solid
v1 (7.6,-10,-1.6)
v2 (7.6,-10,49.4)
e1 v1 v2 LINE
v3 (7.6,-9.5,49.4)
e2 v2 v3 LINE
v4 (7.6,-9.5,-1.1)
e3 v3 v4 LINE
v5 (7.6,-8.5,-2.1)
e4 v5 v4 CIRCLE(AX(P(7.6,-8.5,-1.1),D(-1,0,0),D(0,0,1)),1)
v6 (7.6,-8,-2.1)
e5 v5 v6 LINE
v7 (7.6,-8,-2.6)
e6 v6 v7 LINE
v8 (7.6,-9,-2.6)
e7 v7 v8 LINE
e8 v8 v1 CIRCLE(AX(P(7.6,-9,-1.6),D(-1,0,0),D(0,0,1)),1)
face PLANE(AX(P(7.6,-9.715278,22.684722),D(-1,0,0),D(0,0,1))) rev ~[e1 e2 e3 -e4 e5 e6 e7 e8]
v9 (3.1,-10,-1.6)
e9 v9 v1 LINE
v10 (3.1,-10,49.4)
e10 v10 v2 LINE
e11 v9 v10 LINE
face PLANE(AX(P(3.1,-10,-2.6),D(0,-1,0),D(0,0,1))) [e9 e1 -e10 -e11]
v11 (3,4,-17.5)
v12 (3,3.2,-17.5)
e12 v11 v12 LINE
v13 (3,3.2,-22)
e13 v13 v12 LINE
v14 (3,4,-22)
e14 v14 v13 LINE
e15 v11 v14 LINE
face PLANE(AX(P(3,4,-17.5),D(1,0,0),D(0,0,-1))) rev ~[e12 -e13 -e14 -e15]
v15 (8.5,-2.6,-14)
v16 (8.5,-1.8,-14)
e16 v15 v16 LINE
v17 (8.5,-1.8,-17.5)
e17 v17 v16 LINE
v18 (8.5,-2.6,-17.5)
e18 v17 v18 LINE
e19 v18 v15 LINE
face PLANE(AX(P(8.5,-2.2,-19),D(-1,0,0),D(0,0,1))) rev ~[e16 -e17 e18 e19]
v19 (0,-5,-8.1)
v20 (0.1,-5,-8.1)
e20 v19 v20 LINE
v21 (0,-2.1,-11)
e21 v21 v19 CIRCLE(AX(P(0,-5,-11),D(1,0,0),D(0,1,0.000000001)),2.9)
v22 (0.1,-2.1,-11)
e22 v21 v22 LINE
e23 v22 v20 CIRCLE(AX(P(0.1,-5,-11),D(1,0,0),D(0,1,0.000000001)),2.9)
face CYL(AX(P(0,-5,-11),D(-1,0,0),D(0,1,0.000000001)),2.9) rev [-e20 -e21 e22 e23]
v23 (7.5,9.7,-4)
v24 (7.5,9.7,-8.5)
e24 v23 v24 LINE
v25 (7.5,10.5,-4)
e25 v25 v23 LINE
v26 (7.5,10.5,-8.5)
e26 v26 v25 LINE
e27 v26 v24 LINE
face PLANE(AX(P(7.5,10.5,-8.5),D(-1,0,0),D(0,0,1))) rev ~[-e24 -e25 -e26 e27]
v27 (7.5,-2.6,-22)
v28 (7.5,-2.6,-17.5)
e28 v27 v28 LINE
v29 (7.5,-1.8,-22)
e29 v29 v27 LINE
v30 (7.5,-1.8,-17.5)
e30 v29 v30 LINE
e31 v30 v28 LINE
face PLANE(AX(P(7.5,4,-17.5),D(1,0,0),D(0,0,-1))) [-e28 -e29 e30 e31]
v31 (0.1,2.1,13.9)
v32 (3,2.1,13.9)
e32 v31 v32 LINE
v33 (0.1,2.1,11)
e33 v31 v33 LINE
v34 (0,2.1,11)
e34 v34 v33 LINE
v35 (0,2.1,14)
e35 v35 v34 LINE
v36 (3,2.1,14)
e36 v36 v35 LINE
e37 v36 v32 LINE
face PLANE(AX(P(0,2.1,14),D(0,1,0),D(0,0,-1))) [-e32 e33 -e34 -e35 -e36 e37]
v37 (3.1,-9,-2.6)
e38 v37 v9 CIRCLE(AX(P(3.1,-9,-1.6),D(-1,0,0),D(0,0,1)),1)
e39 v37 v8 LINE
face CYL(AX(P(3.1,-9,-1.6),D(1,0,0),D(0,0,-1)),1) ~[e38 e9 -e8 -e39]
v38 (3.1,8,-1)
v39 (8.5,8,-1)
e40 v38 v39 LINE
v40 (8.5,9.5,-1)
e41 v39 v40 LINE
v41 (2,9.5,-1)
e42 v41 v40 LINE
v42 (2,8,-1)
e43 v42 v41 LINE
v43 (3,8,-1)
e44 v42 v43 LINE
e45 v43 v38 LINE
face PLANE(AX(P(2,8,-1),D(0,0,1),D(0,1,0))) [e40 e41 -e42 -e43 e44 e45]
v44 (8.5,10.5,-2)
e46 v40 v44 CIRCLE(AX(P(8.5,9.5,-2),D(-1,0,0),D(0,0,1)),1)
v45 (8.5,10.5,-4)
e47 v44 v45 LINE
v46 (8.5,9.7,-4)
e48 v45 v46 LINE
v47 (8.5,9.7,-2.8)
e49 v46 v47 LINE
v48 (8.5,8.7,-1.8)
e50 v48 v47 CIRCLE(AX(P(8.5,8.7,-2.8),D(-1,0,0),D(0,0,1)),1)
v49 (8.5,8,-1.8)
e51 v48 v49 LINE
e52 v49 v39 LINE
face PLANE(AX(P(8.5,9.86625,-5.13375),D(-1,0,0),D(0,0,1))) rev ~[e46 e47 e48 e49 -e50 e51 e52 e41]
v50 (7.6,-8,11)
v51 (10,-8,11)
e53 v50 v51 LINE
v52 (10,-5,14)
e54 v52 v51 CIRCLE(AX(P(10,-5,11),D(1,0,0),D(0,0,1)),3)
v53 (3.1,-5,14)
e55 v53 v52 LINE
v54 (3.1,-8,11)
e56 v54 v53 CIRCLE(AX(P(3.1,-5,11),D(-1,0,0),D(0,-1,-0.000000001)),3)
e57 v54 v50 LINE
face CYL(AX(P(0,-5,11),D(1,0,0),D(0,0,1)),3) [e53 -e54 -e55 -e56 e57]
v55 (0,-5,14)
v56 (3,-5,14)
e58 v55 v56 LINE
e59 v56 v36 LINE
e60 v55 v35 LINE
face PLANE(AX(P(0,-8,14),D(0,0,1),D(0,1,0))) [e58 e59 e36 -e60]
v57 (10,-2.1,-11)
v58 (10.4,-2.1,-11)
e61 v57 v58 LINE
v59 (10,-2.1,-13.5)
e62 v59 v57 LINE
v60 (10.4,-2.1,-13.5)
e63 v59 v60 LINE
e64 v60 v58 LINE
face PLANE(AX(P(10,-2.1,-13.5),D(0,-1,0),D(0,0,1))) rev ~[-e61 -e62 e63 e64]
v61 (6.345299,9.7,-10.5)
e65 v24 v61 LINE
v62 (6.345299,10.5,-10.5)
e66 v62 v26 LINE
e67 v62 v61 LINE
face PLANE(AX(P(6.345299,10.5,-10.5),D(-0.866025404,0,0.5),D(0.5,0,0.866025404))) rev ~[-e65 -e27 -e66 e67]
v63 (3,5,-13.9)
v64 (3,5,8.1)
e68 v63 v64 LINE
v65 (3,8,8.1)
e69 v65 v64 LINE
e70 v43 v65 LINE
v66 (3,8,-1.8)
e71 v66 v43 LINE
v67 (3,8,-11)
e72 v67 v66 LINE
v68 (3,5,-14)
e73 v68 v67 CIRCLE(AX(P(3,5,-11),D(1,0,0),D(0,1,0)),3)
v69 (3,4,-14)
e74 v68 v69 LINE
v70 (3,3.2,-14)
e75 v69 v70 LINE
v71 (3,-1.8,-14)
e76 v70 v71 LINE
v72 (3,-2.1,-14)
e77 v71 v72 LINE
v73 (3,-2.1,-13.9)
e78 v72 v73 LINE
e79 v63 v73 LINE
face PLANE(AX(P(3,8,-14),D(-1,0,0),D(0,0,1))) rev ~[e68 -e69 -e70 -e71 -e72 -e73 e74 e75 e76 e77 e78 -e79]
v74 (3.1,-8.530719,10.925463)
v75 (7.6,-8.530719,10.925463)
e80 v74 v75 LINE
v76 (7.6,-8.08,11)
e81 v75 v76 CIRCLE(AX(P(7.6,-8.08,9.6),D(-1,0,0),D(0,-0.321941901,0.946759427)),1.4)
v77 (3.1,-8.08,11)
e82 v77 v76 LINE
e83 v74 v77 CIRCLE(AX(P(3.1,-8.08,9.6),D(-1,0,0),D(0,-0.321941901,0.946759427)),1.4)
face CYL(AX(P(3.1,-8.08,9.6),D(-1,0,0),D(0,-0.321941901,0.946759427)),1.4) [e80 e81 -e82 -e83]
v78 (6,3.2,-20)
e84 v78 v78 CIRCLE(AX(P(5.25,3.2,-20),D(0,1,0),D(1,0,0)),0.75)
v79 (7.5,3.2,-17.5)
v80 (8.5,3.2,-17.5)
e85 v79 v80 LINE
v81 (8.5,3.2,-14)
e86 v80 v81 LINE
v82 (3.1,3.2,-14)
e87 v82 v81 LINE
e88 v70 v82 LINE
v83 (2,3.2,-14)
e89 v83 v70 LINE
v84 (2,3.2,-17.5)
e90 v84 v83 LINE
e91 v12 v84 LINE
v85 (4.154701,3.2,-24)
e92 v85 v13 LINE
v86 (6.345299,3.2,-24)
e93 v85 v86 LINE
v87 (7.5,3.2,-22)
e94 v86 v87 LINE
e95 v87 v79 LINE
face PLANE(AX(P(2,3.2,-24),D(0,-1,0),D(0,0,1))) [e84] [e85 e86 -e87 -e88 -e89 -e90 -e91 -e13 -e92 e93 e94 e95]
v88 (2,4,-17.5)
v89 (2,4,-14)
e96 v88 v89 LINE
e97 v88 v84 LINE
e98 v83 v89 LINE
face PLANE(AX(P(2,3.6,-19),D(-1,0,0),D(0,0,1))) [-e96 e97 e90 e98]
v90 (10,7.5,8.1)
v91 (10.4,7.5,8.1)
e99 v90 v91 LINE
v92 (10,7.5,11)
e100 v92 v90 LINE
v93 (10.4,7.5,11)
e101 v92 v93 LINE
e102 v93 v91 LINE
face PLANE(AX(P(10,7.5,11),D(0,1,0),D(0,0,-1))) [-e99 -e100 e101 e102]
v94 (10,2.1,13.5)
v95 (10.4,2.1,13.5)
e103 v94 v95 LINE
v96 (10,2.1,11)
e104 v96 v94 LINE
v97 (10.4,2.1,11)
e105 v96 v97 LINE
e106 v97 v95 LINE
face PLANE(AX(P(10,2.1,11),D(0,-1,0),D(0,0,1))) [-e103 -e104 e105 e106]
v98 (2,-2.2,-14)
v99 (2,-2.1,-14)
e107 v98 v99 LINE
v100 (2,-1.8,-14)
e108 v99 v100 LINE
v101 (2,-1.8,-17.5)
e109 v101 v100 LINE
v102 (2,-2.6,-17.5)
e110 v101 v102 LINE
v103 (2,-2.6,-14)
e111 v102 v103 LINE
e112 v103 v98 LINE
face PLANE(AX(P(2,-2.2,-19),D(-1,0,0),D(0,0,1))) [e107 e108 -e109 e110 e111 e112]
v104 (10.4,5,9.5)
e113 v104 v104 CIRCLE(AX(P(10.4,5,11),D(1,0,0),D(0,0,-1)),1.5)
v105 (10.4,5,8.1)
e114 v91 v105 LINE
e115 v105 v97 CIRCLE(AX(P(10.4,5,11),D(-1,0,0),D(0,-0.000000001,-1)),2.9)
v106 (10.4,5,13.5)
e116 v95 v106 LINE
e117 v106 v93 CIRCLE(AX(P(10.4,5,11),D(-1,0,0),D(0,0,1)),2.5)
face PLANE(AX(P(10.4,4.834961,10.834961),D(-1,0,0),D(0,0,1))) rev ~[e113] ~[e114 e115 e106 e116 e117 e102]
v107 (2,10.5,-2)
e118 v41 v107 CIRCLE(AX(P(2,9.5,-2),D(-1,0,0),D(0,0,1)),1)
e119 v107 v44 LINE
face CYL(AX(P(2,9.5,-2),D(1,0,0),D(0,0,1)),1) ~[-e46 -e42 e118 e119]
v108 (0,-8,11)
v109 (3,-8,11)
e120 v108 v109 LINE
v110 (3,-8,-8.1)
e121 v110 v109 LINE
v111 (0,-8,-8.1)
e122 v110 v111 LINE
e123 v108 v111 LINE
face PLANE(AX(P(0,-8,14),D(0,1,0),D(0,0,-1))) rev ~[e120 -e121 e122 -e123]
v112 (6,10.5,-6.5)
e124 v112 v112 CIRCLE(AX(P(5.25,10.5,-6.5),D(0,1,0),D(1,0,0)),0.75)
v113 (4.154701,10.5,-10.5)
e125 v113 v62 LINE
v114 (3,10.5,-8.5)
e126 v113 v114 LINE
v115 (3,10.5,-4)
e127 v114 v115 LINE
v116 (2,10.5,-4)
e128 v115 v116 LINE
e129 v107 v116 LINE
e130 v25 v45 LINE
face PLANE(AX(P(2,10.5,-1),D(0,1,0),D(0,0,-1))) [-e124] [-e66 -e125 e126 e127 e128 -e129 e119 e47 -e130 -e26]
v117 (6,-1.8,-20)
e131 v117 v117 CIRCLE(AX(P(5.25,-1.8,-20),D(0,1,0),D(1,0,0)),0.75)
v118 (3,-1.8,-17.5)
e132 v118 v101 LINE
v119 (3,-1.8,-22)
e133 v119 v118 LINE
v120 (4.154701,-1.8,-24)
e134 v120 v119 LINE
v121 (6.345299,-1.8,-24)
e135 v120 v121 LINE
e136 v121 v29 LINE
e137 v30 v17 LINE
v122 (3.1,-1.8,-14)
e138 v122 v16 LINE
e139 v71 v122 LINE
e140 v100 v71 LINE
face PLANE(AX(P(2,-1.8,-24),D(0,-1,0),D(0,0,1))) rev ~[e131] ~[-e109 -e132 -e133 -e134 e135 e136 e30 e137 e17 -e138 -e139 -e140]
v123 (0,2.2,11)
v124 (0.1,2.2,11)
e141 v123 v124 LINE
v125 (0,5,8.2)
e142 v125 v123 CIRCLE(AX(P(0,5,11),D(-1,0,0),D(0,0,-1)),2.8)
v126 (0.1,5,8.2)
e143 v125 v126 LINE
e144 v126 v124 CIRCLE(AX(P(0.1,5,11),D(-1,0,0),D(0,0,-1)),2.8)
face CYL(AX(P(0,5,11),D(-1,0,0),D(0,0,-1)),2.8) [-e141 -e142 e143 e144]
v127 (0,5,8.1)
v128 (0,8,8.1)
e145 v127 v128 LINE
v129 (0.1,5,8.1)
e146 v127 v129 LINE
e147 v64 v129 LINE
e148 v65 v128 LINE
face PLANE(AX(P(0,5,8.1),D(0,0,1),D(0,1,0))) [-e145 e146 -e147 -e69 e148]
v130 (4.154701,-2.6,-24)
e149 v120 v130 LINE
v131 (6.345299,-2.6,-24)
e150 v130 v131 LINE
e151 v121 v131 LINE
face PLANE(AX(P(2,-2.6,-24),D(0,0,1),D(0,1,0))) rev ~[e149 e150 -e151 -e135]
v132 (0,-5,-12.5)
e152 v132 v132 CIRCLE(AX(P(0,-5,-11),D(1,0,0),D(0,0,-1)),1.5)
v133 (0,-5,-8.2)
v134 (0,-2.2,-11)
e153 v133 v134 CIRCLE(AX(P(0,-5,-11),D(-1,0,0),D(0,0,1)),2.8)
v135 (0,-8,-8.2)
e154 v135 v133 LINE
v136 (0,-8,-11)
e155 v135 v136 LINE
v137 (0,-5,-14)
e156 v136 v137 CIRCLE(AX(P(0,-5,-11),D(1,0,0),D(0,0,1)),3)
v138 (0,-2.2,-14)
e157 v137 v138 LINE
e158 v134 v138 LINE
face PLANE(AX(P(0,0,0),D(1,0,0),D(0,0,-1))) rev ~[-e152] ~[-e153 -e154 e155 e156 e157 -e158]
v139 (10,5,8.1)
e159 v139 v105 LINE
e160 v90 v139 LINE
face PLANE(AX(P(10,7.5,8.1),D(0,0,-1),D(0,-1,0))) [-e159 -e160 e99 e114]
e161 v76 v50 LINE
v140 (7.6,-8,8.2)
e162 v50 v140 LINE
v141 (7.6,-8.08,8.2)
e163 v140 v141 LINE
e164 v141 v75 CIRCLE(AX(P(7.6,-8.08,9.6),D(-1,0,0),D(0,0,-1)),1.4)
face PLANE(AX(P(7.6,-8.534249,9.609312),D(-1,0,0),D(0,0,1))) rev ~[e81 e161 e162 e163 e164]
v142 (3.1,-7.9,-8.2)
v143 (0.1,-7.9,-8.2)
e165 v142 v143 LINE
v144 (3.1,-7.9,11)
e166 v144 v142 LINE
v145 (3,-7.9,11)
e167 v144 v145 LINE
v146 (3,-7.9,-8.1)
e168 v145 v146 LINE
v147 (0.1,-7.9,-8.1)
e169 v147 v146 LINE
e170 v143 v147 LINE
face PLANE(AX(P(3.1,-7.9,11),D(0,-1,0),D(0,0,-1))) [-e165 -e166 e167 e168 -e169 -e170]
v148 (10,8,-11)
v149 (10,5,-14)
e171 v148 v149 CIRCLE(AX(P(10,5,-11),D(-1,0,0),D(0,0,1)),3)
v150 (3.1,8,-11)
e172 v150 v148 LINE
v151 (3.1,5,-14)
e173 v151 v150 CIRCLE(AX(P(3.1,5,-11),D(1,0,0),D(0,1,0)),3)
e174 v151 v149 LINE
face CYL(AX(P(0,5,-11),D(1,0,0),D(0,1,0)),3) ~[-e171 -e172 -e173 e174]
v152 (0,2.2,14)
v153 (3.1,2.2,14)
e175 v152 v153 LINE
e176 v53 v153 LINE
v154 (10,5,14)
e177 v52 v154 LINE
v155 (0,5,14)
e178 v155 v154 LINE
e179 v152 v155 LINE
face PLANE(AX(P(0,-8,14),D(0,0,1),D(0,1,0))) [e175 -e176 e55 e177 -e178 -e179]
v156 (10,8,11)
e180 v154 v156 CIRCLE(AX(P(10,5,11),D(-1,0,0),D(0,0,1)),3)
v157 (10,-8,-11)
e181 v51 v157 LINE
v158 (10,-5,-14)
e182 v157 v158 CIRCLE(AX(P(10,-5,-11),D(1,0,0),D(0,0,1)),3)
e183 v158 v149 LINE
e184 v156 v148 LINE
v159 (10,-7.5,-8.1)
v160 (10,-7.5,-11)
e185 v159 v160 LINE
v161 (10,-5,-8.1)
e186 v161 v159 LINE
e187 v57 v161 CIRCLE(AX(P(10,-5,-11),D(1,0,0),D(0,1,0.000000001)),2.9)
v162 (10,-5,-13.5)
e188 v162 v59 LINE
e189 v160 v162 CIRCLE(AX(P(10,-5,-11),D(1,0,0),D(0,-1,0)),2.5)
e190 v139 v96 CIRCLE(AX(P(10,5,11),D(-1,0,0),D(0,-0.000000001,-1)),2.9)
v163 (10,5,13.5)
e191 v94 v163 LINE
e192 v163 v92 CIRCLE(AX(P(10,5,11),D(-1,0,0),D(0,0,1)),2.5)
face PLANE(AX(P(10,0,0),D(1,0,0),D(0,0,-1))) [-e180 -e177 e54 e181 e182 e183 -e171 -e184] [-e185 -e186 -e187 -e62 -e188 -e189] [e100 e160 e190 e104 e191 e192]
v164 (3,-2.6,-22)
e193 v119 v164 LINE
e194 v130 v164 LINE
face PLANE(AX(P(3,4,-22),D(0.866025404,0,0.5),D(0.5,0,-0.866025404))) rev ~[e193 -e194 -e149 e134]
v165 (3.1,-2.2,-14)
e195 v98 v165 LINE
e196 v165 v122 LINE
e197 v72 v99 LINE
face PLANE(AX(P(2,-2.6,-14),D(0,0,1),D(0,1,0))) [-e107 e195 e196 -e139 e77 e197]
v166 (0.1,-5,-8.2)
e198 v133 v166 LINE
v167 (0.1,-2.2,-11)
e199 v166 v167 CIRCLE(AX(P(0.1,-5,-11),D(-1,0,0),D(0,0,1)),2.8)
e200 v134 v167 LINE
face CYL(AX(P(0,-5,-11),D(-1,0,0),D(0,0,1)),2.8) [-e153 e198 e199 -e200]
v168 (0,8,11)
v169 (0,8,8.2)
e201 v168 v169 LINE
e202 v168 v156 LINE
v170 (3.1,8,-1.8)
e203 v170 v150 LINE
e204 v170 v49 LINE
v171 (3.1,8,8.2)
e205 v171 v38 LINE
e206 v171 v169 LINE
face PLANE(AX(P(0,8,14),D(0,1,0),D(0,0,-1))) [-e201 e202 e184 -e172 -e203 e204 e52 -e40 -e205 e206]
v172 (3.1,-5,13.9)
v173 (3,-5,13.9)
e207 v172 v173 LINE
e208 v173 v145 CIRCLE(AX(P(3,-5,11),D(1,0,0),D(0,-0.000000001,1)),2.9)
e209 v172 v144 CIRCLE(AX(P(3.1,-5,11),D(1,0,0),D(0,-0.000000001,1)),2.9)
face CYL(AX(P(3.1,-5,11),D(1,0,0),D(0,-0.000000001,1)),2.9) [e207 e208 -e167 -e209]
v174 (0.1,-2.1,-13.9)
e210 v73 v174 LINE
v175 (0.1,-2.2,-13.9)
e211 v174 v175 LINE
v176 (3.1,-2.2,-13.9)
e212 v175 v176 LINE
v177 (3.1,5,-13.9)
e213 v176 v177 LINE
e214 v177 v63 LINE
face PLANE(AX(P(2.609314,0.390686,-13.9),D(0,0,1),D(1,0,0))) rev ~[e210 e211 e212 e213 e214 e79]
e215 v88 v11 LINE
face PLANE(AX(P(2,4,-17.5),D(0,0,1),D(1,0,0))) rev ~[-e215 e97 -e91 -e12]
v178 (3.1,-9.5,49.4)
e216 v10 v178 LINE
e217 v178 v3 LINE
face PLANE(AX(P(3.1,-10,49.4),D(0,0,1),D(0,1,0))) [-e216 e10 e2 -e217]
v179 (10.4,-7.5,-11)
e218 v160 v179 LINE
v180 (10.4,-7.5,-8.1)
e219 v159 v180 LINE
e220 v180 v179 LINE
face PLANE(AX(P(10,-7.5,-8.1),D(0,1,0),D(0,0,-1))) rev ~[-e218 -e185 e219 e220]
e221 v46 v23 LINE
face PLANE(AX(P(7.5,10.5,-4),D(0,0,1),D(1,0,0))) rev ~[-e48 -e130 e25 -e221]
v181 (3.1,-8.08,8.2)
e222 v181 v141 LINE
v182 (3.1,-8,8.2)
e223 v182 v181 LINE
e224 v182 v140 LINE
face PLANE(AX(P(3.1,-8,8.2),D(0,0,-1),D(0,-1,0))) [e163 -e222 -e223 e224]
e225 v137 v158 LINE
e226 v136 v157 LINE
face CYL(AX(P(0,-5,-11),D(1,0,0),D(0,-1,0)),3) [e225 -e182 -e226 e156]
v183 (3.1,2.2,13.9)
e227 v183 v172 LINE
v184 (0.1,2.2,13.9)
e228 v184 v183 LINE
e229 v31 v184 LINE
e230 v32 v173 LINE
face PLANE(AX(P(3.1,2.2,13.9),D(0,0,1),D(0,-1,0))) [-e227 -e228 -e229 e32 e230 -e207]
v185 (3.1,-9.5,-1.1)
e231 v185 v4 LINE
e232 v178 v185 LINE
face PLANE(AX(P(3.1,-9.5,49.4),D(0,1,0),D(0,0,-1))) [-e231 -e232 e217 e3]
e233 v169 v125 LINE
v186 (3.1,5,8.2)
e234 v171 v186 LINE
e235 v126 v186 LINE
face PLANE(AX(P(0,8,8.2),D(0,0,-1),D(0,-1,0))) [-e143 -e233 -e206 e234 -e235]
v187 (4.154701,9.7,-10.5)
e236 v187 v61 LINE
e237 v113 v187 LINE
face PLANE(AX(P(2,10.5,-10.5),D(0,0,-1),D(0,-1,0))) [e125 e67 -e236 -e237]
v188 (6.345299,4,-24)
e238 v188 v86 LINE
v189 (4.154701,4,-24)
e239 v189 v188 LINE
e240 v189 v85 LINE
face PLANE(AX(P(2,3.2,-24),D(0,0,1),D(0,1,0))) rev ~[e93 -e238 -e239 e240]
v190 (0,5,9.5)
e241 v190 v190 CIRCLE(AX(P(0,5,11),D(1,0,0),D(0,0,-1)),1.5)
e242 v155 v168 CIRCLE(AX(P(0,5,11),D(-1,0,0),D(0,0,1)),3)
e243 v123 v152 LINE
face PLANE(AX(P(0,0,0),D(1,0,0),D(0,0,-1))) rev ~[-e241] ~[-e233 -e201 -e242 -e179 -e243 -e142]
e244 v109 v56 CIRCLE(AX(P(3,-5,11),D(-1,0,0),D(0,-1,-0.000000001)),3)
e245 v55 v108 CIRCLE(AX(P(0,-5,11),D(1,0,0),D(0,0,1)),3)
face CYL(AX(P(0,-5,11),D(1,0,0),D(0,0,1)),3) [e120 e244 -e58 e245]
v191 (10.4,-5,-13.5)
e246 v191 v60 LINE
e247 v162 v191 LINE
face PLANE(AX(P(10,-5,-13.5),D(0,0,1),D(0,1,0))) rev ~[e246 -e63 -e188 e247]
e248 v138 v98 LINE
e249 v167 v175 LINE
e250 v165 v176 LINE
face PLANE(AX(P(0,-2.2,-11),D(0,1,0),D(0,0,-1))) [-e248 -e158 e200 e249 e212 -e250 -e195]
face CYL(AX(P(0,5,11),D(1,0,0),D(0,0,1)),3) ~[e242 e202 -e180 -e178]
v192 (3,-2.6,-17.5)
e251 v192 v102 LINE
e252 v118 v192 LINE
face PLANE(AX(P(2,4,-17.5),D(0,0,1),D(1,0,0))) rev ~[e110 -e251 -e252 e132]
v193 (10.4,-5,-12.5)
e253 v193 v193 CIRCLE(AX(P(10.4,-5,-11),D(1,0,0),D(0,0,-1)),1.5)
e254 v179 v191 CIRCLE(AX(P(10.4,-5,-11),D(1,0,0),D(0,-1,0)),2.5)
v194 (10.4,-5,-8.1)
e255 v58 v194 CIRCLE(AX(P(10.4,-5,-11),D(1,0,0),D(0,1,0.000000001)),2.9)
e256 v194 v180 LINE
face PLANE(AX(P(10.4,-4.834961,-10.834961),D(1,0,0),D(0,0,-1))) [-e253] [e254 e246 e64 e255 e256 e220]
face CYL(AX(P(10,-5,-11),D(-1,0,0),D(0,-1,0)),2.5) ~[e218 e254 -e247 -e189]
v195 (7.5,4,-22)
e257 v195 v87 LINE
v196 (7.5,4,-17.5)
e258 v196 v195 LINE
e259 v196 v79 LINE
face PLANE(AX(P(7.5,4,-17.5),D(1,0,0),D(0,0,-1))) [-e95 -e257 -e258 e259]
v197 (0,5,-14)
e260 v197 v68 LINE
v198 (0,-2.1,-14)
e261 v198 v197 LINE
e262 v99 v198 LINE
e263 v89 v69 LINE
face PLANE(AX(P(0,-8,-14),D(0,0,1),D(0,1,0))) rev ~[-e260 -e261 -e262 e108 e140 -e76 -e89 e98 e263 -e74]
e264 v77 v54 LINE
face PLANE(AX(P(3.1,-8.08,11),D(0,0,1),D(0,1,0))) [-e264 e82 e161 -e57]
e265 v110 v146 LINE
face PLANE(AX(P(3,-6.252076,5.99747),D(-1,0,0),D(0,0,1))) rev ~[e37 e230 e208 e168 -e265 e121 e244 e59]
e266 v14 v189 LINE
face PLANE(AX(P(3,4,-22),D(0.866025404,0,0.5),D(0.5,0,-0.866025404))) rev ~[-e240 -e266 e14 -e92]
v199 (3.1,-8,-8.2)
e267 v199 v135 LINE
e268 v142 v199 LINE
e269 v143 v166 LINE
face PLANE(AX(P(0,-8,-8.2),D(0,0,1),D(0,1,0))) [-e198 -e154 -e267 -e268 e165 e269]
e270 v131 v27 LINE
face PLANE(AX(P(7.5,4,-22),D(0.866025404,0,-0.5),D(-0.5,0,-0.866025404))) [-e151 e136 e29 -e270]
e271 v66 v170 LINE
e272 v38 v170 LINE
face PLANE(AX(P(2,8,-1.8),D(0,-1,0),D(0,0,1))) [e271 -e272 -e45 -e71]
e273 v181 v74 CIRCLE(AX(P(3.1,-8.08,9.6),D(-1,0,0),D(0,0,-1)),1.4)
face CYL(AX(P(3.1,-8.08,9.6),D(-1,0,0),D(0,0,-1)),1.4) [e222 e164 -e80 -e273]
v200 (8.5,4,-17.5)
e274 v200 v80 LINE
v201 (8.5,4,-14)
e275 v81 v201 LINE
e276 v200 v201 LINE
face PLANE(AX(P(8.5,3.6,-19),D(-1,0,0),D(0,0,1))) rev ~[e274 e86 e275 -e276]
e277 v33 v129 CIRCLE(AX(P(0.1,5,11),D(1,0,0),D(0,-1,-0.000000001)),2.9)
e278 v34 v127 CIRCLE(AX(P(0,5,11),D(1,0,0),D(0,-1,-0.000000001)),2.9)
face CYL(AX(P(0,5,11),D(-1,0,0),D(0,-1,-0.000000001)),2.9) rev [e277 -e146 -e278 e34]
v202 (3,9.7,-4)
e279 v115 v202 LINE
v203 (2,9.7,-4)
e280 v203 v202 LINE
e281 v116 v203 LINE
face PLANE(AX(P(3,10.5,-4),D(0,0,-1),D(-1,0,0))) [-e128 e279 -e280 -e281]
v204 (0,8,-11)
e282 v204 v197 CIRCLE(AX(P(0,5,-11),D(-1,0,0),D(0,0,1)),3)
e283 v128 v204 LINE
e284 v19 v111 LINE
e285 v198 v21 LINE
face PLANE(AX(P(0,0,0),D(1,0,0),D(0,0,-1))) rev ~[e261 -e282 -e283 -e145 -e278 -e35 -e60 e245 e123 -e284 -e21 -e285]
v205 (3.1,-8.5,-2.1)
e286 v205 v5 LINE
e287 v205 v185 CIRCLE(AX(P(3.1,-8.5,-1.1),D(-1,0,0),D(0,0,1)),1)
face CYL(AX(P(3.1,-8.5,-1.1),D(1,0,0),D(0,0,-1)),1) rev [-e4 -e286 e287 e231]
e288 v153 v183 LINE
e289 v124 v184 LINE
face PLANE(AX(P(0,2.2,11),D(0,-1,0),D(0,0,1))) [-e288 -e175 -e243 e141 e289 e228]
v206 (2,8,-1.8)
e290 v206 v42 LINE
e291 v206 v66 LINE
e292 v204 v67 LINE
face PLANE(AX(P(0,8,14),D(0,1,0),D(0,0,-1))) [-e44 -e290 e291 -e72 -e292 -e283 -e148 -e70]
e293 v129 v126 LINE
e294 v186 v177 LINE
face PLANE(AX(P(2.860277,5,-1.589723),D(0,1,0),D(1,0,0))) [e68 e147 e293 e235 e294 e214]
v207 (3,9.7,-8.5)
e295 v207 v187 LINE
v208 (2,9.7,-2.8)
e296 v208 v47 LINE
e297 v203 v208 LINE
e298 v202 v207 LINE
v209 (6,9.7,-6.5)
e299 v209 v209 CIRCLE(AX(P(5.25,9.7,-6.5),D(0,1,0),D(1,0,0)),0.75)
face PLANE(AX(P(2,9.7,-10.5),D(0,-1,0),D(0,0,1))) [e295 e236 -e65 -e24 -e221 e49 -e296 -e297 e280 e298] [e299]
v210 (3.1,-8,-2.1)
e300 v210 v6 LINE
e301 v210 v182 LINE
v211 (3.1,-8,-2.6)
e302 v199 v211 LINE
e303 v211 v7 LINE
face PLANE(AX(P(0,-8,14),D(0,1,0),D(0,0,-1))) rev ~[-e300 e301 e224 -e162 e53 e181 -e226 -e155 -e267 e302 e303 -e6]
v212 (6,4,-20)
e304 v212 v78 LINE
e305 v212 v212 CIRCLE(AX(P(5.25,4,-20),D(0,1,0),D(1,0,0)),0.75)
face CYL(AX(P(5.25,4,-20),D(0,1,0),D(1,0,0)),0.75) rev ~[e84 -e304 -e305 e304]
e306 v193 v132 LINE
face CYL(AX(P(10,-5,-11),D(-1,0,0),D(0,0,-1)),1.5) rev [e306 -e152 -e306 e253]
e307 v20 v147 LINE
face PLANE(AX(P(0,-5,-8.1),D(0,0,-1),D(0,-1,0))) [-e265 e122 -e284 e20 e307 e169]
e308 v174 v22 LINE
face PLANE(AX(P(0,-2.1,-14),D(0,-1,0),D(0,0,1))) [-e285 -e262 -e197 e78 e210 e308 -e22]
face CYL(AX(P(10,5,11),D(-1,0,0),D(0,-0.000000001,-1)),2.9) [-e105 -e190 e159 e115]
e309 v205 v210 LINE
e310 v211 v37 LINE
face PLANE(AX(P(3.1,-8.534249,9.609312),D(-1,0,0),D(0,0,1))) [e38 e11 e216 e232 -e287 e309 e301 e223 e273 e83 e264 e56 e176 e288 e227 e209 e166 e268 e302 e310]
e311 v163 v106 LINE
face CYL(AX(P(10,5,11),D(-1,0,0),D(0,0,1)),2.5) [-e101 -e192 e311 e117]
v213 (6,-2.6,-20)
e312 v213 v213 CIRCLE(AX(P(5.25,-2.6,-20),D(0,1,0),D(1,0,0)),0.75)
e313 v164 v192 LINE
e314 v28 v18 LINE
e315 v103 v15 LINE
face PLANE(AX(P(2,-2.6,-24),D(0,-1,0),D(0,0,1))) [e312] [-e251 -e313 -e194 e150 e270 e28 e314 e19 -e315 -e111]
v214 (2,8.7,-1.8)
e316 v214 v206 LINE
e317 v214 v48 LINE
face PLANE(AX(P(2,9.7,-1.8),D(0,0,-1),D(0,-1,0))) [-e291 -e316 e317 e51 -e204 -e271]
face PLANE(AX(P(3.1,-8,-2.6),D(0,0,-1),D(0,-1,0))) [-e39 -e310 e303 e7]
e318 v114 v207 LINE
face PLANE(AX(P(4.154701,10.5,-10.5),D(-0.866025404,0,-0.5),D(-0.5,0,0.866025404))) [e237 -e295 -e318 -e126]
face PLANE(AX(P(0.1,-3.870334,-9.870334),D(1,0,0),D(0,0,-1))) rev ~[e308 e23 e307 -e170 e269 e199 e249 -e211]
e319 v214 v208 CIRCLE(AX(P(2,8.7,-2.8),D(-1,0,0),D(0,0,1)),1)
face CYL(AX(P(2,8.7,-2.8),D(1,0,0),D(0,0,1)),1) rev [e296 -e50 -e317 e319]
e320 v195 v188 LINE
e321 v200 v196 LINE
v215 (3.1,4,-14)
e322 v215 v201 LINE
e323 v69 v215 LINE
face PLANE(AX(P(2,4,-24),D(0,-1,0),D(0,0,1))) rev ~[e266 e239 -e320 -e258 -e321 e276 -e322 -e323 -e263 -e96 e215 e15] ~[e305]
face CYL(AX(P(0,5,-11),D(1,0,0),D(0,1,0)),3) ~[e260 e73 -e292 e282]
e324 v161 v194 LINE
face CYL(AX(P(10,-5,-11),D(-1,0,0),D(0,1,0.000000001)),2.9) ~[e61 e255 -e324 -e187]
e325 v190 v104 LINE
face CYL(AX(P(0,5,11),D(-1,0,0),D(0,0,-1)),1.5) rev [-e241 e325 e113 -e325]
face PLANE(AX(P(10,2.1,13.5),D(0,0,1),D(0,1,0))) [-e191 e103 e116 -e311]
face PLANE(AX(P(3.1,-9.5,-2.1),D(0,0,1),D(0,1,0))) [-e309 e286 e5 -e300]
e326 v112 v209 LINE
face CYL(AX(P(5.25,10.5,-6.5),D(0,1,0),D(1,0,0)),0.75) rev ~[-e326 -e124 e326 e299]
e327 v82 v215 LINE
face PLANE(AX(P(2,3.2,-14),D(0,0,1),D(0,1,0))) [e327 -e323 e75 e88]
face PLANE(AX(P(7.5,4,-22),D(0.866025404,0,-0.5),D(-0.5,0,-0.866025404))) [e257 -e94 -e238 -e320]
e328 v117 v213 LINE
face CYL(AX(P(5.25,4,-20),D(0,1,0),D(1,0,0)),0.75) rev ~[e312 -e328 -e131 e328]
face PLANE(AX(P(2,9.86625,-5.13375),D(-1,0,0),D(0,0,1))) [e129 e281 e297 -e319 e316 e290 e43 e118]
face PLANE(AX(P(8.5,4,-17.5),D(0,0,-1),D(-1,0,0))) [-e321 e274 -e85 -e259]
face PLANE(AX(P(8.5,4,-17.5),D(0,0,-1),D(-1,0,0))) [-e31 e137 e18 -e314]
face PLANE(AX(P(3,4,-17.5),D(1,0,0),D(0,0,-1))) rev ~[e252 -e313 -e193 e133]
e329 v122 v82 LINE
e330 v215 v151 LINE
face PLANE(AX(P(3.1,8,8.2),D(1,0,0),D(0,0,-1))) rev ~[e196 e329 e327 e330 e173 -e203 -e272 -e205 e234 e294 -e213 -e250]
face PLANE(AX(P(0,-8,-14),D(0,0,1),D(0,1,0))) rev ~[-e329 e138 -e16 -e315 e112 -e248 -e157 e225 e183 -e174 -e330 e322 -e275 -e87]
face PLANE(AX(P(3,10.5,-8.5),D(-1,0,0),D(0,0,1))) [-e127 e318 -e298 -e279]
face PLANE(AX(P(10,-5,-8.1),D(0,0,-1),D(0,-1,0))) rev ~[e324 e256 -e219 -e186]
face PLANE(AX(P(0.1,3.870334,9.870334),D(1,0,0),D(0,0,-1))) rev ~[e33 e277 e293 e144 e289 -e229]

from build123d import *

# Parameters (mm, degrees)
SKETCH_1_W          = 28
SKETCH_1_H          = 16
SKETCH_1_R          = 1.5
EXTRUDE_1_DEPTH     = 10
FILLET_1_R          = 3
SKETCH_2_R          = 1.5
EXTRUDE_2_DEPTH     = 0.4
CUT_EXTRUDE_1_DEPTH = 0.1
CUT_EXTRUDE_2_DEPTH = 3
CUT_EXTRUDE_3_DEPTH = 0.1
CUT_EXTRUDE_4_DEPTH = 0.1
SKETCH_7_W          = 2.9
SKETCH_7_H          = 0.1
CUT_EXTRUDE_5_DEPTH = 0.1
SKETCH_8_W          = 2.9
SKETCH_8_H          = 0.1
CUT_EXTRUDE_6_DEPTH = 0.1
EXTRUDE_3_DEPTH     = 4.5
SKETCH_11_W         = 10
SKETCH_11_H         = 0.8
EXTRUDE_4_DEPTH     = 6.5
SKETCH_12_R         = 0.75
CUT_EXTRUDE_7_DEPTH = 53.388166603
FILLET_2_R          = 1
SKETCH_13_R         = 0.75
CUT_EXTRUDE_8_DEPTH = 2


with BuildPart() as part:
    # 草图1 → 凸台-拉伸1 (new body)
    with BuildSketch(Plane(origin=(0, 0, 0), x_dir=(0, 0, -1), z_dir=(1, 0, 0))):
        Rectangle(SKETCH_1_W, SKETCH_1_H)
        with Locations((11, -5)):
            Circle(SKETCH_1_R, mode=Mode.SUBTRACT)
        with Locations((-11, 5)):
            Circle(SKETCH_1_R, mode=Mode.SUBTRACT)
    extrude(amount=EXTRUDE_1_DEPTH)

    # 圆角1
    fillet_1_edges = [part.edges().sort_by_distance(p)[0] for p in [
        (5, 8, -14),
        (5, 8, 14),
        (5, -8, 14),
        (5, -8, -14),
    ]]
    fillet(fillet_1_edges, radius=FILLET_1_R)

    # 草图2 → 凸台-拉伸2 (add)
    # profile 1 of 2: a face of its own
    with BuildSketch(Plane(origin=(10, 0, 0), x_dir=(0, 0, -1), z_dir=(1, 0, 0))):
        with BuildLine():
            Line((13.5, -5), (13.5, -2.1))
            Line((13.5, -2.1), (11, -2.1))
            ThreePointArc((11, -2.1), (8.949390335, -2.949390335), (8.1, -5))
            Line((8.1, -5), (8.1, -7.5))
            Line((8.1, -7.5), (11, -7.5))
            ThreePointArc((11, -7.5), (12.767766953, -6.767766953), (13.5, -5))
        make_face()
        with Locations((11, -5)):
            Circle(SKETCH_2_R, mode=Mode.SUBTRACT)
    # profile 2 of 2: a face of its own
    with BuildSketch(Plane(origin=(10, 0, 0), x_dir=(0, 0, -1), z_dir=(1, 0, 0))):
        with BuildLine():
            Line((-11, 2.1), (-13.5, 2.1))
            Line((-13.5, 2.1), (-13.5, 5))
            ThreePointArc((-13.5, 5), (-12.767766953, 6.767766953), (-11, 7.5))
            Line((-11, 7.5), (-8.1, 7.5))
            Line((-8.1, 7.5), (-8.1, 5))
            ThreePointArc((-8.1, 5), (-8.949390335, 2.949390335), (-11, 2.1))
        make_face()
        with Locations((-11, 5)):
            Circle(SKETCH_2_R, mode=Mode.SUBTRACT)
    extrude(amount=EXTRUDE_2_DEPTH)

    # 草图3 → 切除-拉伸1 (cut)
    with BuildSketch(Plane.ZY):
        with BuildLine():
            Line((-13.5, -2.1), (-11, -2.1))
            ThreePointArc((-11, -2.1), (-8.949390335, -2.949390335), (-8.1, -5))
            Line((-8.1, -5), (-8.1, -7.5))
            Line((-8.1, -7.5), (-8.1, -8))
            Line((-8.1, -8), (-8.2, -8))
            Line((-8.2, -8), (-8.2, -7.5))
            Line((-8.2, -7.5), (-8.2, -5))
            ThreePointArc((-8.2, -5), (-9.020101013, -3.020101013), (-11, -2.2))
            Line((-11, -2.2), (-13.5, -2.2))
            Line((-13.5, -2.2), (-14, -2.2))
            Line((-14, -2.2), (-14, -2.1))
            Line((-14, -2.1), (-13.5, -2.1))
        make_face()
        with BuildLine():
            Line((13.5, 2.1), (11, 2.1))
            ThreePointArc((11, 2.1), (8.949390335, 2.949390335), (8.1, 5))
            Line((8.1, 5), (8.1, 7.5))
            Line((8.1, 7.5), (8.1, 8))
            Line((8.1, 8), (8.2, 8))
            Line((8.2, 8), (8.2, 7.5))
            Line((8.2, 7.5), (8.2, 5))
            ThreePointArc((8.2, 5), (9.020101013, 3.020101013), (11, 2.2))
            Line((11, 2.2), (13.5, 2.2))
            Line((13.5, 2.2), (14, 2.2))
            Line((14, 2.2), (14, 2.1))
            Line((14, 2.1), (13.5, 2.1))
        make_face()
    extrude(amount=-CUT_EXTRUDE_1_DEPTH, mode=Mode.SUBTRACT)

    # 草图4 → 切除-拉伸2 (cut)
    with BuildSketch(Plane(origin=(0, 8, 0), x_dir=(1, 0, 0), z_dir=(0, 1, 0))):
        Polygon((0, -8.2), (3.1, -8.2), (3.1, 14), (3, 14), (3, -8.1), (0, -8.1), align=None)
    extrude(amount=-CUT_EXTRUDE_2_DEPTH, mode=Mode.SUBTRACT)

    # 草图5 → 切除-拉伸3 (cut)
    with BuildSketch(Plane(origin=(0, 0, -14), x_dir=(-1, 0, 0), z_dir=(0, 0, -1))):
        Polygon((-3, 5), (-3, -2.1), (-0.1, -2.1), (-0.1, -2.2), (-3.1, -2.2), (-3.1, 5), align=None)
    extrude(amount=-CUT_EXTRUDE_3_DEPTH, mode=Mode.SUBTRACT)

    # 草图6 → 切除-拉伸4 (cut)
    with BuildSketch(Plane.ZY.offset(-3.1)):
        with BuildLine():
            Line((-8.2, -8), (11, -8))
            ThreePointArc((11, -8), (13.121320344, -7.121320344), (14, -5))
            Line((14, -5), (14, 2.1))
            Line((14, 2.1), (14, 2.2))
            Line((14, 2.2), (13.9, 2.2))
            Line((13.9, 2.2), (13.9, 2.1))
            Line((13.9, 2.1), (13.9, -5))
            ThreePointArc((13.9, -5), (13.050609665, -7.050609665), (11, -7.9))
            Line((11, -7.9), (-8.2, -7.9))
            Line((-8.2, -7.9), (-8.2, -8))
        make_face()
    extrude(amount=CUT_EXTRUDE_4_DEPTH, mode=Mode.SUBTRACT)

    # 草图7 → 切除-拉伸5 (cut)
    with BuildSketch(Plane.XY.offset(14)):
        with Locations((1.55, 2.15)):
            Rectangle(SKETCH_7_W, SKETCH_7_H)
    extrude(amount=-CUT_EXTRUDE_5_DEPTH, mode=Mode.SUBTRACT)

    # 草图8 → 切除-拉伸6 (cut)
    with BuildSketch(Plane.XZ.offset(8)):
        with Locations((1.55, -8.15)):
            Rectangle(SKETCH_8_W, SKETCH_8_H)
    extrude(amount=-CUT_EXTRUDE_6_DEPTH, mode=Mode.SUBTRACT)

    # 草图10 → 凸台-拉伸3 (add)
    with BuildSketch(Plane.ZY.offset(-3.1)):
        Polygon((-2.1, -8), (-2.6, -8), (-2.6, -10), (49.4, -10), (49.4, -9.5), (-2.1, -9.5), align=None)
        with BuildLine():
            Line((11, -8), (8.2, -8))
            Line((8.2, -8), (8.2, -8.08))
            ThreePointArc((8.2, -8.08), (9.371579858, -9.461240109), (10.925463198, -8.53071866))
            ThreePointArc((10.925463198, -8.53071866), (10.981240109, -8.308420142), (11, -8.08))
            Line((11, -8.08), (11, -8))
        make_face()
    extrude(amount=-EXTRUDE_3_DEPTH)

    # 草图11 → 凸台-拉伸4 (add)
    with BuildSketch(Plane.ZY.offset(-2)):
        with Locations((-19, 3.6)):
            Rectangle(SKETCH_11_W, SKETCH_11_H)
        with Locations((-19, -2.2)):
            Rectangle(SKETCH_11_W, SKETCH_11_H)
        Polygon((-1, 8), (-1, 10.5), (-10.5, 10.5), (-10.5, 9.7), (-1.8, 9.7), (-1.8, 8), align=None)
    extrude(amount=-EXTRUDE_4_DEPTH)

    # 草图12 → 切除-拉伸7 (cut, through all)
    with BuildSketch(Plane(origin=(0, 4, 0), x_dir=(1, 0, 0), z_dir=(0, 1, 0))):
        with Locations((5.25, 20)):
            Circle(SKETCH_12_R)
        Polygon((2, 17.5), (3, 17.5), (3, 22), (4.154700538, 24), (3, 24), (2, 24), align=None)
        Polygon((8.5, 24), (8.5, 17.5), (7.5, 17.5), (7.5, 22), (6.345299462, 24), (7.5, 24), align=None)
    extrude(amount=-CUT_EXTRUDE_7_DEPTH, mode=Mode.SUBTRACT)

    # 圆角2
    fillet_2_edges = [part.edges().sort_by_distance(p)[0] for p in [
        (5.35, -9.5, -2.1),
        (5.35, -10, -2.6),
        (5.25, 9.7, -1.8),
        (5.25, 10.5, -1),
    ]]
    fillet(fillet_2_edges, radius=FILLET_2_R)

    # 草图13 → 切除-拉伸8 (cut)
    with BuildSketch(Plane(origin=(0, 10.5, 0), x_dir=(1, 0, 0), z_dir=(0, 1, 0))):
        with Locations((5.25, 6.5)):
            Circle(SKETCH_13_R)
        Polygon((8.5, 10.5), (6.345299462, 10.5), (7.5, 8.5), (7.5, 4), (8.5, 4), align=None)
        Polygon((3, 4), (2, 4), (2, 10.5), (4.154700538, 10.5), (3, 8.5), align=None)
    extrude(amount=-CUT_EXTRUDE_8_DEPTH, mode=Mode.SUBTRACT)


solid = part.part
